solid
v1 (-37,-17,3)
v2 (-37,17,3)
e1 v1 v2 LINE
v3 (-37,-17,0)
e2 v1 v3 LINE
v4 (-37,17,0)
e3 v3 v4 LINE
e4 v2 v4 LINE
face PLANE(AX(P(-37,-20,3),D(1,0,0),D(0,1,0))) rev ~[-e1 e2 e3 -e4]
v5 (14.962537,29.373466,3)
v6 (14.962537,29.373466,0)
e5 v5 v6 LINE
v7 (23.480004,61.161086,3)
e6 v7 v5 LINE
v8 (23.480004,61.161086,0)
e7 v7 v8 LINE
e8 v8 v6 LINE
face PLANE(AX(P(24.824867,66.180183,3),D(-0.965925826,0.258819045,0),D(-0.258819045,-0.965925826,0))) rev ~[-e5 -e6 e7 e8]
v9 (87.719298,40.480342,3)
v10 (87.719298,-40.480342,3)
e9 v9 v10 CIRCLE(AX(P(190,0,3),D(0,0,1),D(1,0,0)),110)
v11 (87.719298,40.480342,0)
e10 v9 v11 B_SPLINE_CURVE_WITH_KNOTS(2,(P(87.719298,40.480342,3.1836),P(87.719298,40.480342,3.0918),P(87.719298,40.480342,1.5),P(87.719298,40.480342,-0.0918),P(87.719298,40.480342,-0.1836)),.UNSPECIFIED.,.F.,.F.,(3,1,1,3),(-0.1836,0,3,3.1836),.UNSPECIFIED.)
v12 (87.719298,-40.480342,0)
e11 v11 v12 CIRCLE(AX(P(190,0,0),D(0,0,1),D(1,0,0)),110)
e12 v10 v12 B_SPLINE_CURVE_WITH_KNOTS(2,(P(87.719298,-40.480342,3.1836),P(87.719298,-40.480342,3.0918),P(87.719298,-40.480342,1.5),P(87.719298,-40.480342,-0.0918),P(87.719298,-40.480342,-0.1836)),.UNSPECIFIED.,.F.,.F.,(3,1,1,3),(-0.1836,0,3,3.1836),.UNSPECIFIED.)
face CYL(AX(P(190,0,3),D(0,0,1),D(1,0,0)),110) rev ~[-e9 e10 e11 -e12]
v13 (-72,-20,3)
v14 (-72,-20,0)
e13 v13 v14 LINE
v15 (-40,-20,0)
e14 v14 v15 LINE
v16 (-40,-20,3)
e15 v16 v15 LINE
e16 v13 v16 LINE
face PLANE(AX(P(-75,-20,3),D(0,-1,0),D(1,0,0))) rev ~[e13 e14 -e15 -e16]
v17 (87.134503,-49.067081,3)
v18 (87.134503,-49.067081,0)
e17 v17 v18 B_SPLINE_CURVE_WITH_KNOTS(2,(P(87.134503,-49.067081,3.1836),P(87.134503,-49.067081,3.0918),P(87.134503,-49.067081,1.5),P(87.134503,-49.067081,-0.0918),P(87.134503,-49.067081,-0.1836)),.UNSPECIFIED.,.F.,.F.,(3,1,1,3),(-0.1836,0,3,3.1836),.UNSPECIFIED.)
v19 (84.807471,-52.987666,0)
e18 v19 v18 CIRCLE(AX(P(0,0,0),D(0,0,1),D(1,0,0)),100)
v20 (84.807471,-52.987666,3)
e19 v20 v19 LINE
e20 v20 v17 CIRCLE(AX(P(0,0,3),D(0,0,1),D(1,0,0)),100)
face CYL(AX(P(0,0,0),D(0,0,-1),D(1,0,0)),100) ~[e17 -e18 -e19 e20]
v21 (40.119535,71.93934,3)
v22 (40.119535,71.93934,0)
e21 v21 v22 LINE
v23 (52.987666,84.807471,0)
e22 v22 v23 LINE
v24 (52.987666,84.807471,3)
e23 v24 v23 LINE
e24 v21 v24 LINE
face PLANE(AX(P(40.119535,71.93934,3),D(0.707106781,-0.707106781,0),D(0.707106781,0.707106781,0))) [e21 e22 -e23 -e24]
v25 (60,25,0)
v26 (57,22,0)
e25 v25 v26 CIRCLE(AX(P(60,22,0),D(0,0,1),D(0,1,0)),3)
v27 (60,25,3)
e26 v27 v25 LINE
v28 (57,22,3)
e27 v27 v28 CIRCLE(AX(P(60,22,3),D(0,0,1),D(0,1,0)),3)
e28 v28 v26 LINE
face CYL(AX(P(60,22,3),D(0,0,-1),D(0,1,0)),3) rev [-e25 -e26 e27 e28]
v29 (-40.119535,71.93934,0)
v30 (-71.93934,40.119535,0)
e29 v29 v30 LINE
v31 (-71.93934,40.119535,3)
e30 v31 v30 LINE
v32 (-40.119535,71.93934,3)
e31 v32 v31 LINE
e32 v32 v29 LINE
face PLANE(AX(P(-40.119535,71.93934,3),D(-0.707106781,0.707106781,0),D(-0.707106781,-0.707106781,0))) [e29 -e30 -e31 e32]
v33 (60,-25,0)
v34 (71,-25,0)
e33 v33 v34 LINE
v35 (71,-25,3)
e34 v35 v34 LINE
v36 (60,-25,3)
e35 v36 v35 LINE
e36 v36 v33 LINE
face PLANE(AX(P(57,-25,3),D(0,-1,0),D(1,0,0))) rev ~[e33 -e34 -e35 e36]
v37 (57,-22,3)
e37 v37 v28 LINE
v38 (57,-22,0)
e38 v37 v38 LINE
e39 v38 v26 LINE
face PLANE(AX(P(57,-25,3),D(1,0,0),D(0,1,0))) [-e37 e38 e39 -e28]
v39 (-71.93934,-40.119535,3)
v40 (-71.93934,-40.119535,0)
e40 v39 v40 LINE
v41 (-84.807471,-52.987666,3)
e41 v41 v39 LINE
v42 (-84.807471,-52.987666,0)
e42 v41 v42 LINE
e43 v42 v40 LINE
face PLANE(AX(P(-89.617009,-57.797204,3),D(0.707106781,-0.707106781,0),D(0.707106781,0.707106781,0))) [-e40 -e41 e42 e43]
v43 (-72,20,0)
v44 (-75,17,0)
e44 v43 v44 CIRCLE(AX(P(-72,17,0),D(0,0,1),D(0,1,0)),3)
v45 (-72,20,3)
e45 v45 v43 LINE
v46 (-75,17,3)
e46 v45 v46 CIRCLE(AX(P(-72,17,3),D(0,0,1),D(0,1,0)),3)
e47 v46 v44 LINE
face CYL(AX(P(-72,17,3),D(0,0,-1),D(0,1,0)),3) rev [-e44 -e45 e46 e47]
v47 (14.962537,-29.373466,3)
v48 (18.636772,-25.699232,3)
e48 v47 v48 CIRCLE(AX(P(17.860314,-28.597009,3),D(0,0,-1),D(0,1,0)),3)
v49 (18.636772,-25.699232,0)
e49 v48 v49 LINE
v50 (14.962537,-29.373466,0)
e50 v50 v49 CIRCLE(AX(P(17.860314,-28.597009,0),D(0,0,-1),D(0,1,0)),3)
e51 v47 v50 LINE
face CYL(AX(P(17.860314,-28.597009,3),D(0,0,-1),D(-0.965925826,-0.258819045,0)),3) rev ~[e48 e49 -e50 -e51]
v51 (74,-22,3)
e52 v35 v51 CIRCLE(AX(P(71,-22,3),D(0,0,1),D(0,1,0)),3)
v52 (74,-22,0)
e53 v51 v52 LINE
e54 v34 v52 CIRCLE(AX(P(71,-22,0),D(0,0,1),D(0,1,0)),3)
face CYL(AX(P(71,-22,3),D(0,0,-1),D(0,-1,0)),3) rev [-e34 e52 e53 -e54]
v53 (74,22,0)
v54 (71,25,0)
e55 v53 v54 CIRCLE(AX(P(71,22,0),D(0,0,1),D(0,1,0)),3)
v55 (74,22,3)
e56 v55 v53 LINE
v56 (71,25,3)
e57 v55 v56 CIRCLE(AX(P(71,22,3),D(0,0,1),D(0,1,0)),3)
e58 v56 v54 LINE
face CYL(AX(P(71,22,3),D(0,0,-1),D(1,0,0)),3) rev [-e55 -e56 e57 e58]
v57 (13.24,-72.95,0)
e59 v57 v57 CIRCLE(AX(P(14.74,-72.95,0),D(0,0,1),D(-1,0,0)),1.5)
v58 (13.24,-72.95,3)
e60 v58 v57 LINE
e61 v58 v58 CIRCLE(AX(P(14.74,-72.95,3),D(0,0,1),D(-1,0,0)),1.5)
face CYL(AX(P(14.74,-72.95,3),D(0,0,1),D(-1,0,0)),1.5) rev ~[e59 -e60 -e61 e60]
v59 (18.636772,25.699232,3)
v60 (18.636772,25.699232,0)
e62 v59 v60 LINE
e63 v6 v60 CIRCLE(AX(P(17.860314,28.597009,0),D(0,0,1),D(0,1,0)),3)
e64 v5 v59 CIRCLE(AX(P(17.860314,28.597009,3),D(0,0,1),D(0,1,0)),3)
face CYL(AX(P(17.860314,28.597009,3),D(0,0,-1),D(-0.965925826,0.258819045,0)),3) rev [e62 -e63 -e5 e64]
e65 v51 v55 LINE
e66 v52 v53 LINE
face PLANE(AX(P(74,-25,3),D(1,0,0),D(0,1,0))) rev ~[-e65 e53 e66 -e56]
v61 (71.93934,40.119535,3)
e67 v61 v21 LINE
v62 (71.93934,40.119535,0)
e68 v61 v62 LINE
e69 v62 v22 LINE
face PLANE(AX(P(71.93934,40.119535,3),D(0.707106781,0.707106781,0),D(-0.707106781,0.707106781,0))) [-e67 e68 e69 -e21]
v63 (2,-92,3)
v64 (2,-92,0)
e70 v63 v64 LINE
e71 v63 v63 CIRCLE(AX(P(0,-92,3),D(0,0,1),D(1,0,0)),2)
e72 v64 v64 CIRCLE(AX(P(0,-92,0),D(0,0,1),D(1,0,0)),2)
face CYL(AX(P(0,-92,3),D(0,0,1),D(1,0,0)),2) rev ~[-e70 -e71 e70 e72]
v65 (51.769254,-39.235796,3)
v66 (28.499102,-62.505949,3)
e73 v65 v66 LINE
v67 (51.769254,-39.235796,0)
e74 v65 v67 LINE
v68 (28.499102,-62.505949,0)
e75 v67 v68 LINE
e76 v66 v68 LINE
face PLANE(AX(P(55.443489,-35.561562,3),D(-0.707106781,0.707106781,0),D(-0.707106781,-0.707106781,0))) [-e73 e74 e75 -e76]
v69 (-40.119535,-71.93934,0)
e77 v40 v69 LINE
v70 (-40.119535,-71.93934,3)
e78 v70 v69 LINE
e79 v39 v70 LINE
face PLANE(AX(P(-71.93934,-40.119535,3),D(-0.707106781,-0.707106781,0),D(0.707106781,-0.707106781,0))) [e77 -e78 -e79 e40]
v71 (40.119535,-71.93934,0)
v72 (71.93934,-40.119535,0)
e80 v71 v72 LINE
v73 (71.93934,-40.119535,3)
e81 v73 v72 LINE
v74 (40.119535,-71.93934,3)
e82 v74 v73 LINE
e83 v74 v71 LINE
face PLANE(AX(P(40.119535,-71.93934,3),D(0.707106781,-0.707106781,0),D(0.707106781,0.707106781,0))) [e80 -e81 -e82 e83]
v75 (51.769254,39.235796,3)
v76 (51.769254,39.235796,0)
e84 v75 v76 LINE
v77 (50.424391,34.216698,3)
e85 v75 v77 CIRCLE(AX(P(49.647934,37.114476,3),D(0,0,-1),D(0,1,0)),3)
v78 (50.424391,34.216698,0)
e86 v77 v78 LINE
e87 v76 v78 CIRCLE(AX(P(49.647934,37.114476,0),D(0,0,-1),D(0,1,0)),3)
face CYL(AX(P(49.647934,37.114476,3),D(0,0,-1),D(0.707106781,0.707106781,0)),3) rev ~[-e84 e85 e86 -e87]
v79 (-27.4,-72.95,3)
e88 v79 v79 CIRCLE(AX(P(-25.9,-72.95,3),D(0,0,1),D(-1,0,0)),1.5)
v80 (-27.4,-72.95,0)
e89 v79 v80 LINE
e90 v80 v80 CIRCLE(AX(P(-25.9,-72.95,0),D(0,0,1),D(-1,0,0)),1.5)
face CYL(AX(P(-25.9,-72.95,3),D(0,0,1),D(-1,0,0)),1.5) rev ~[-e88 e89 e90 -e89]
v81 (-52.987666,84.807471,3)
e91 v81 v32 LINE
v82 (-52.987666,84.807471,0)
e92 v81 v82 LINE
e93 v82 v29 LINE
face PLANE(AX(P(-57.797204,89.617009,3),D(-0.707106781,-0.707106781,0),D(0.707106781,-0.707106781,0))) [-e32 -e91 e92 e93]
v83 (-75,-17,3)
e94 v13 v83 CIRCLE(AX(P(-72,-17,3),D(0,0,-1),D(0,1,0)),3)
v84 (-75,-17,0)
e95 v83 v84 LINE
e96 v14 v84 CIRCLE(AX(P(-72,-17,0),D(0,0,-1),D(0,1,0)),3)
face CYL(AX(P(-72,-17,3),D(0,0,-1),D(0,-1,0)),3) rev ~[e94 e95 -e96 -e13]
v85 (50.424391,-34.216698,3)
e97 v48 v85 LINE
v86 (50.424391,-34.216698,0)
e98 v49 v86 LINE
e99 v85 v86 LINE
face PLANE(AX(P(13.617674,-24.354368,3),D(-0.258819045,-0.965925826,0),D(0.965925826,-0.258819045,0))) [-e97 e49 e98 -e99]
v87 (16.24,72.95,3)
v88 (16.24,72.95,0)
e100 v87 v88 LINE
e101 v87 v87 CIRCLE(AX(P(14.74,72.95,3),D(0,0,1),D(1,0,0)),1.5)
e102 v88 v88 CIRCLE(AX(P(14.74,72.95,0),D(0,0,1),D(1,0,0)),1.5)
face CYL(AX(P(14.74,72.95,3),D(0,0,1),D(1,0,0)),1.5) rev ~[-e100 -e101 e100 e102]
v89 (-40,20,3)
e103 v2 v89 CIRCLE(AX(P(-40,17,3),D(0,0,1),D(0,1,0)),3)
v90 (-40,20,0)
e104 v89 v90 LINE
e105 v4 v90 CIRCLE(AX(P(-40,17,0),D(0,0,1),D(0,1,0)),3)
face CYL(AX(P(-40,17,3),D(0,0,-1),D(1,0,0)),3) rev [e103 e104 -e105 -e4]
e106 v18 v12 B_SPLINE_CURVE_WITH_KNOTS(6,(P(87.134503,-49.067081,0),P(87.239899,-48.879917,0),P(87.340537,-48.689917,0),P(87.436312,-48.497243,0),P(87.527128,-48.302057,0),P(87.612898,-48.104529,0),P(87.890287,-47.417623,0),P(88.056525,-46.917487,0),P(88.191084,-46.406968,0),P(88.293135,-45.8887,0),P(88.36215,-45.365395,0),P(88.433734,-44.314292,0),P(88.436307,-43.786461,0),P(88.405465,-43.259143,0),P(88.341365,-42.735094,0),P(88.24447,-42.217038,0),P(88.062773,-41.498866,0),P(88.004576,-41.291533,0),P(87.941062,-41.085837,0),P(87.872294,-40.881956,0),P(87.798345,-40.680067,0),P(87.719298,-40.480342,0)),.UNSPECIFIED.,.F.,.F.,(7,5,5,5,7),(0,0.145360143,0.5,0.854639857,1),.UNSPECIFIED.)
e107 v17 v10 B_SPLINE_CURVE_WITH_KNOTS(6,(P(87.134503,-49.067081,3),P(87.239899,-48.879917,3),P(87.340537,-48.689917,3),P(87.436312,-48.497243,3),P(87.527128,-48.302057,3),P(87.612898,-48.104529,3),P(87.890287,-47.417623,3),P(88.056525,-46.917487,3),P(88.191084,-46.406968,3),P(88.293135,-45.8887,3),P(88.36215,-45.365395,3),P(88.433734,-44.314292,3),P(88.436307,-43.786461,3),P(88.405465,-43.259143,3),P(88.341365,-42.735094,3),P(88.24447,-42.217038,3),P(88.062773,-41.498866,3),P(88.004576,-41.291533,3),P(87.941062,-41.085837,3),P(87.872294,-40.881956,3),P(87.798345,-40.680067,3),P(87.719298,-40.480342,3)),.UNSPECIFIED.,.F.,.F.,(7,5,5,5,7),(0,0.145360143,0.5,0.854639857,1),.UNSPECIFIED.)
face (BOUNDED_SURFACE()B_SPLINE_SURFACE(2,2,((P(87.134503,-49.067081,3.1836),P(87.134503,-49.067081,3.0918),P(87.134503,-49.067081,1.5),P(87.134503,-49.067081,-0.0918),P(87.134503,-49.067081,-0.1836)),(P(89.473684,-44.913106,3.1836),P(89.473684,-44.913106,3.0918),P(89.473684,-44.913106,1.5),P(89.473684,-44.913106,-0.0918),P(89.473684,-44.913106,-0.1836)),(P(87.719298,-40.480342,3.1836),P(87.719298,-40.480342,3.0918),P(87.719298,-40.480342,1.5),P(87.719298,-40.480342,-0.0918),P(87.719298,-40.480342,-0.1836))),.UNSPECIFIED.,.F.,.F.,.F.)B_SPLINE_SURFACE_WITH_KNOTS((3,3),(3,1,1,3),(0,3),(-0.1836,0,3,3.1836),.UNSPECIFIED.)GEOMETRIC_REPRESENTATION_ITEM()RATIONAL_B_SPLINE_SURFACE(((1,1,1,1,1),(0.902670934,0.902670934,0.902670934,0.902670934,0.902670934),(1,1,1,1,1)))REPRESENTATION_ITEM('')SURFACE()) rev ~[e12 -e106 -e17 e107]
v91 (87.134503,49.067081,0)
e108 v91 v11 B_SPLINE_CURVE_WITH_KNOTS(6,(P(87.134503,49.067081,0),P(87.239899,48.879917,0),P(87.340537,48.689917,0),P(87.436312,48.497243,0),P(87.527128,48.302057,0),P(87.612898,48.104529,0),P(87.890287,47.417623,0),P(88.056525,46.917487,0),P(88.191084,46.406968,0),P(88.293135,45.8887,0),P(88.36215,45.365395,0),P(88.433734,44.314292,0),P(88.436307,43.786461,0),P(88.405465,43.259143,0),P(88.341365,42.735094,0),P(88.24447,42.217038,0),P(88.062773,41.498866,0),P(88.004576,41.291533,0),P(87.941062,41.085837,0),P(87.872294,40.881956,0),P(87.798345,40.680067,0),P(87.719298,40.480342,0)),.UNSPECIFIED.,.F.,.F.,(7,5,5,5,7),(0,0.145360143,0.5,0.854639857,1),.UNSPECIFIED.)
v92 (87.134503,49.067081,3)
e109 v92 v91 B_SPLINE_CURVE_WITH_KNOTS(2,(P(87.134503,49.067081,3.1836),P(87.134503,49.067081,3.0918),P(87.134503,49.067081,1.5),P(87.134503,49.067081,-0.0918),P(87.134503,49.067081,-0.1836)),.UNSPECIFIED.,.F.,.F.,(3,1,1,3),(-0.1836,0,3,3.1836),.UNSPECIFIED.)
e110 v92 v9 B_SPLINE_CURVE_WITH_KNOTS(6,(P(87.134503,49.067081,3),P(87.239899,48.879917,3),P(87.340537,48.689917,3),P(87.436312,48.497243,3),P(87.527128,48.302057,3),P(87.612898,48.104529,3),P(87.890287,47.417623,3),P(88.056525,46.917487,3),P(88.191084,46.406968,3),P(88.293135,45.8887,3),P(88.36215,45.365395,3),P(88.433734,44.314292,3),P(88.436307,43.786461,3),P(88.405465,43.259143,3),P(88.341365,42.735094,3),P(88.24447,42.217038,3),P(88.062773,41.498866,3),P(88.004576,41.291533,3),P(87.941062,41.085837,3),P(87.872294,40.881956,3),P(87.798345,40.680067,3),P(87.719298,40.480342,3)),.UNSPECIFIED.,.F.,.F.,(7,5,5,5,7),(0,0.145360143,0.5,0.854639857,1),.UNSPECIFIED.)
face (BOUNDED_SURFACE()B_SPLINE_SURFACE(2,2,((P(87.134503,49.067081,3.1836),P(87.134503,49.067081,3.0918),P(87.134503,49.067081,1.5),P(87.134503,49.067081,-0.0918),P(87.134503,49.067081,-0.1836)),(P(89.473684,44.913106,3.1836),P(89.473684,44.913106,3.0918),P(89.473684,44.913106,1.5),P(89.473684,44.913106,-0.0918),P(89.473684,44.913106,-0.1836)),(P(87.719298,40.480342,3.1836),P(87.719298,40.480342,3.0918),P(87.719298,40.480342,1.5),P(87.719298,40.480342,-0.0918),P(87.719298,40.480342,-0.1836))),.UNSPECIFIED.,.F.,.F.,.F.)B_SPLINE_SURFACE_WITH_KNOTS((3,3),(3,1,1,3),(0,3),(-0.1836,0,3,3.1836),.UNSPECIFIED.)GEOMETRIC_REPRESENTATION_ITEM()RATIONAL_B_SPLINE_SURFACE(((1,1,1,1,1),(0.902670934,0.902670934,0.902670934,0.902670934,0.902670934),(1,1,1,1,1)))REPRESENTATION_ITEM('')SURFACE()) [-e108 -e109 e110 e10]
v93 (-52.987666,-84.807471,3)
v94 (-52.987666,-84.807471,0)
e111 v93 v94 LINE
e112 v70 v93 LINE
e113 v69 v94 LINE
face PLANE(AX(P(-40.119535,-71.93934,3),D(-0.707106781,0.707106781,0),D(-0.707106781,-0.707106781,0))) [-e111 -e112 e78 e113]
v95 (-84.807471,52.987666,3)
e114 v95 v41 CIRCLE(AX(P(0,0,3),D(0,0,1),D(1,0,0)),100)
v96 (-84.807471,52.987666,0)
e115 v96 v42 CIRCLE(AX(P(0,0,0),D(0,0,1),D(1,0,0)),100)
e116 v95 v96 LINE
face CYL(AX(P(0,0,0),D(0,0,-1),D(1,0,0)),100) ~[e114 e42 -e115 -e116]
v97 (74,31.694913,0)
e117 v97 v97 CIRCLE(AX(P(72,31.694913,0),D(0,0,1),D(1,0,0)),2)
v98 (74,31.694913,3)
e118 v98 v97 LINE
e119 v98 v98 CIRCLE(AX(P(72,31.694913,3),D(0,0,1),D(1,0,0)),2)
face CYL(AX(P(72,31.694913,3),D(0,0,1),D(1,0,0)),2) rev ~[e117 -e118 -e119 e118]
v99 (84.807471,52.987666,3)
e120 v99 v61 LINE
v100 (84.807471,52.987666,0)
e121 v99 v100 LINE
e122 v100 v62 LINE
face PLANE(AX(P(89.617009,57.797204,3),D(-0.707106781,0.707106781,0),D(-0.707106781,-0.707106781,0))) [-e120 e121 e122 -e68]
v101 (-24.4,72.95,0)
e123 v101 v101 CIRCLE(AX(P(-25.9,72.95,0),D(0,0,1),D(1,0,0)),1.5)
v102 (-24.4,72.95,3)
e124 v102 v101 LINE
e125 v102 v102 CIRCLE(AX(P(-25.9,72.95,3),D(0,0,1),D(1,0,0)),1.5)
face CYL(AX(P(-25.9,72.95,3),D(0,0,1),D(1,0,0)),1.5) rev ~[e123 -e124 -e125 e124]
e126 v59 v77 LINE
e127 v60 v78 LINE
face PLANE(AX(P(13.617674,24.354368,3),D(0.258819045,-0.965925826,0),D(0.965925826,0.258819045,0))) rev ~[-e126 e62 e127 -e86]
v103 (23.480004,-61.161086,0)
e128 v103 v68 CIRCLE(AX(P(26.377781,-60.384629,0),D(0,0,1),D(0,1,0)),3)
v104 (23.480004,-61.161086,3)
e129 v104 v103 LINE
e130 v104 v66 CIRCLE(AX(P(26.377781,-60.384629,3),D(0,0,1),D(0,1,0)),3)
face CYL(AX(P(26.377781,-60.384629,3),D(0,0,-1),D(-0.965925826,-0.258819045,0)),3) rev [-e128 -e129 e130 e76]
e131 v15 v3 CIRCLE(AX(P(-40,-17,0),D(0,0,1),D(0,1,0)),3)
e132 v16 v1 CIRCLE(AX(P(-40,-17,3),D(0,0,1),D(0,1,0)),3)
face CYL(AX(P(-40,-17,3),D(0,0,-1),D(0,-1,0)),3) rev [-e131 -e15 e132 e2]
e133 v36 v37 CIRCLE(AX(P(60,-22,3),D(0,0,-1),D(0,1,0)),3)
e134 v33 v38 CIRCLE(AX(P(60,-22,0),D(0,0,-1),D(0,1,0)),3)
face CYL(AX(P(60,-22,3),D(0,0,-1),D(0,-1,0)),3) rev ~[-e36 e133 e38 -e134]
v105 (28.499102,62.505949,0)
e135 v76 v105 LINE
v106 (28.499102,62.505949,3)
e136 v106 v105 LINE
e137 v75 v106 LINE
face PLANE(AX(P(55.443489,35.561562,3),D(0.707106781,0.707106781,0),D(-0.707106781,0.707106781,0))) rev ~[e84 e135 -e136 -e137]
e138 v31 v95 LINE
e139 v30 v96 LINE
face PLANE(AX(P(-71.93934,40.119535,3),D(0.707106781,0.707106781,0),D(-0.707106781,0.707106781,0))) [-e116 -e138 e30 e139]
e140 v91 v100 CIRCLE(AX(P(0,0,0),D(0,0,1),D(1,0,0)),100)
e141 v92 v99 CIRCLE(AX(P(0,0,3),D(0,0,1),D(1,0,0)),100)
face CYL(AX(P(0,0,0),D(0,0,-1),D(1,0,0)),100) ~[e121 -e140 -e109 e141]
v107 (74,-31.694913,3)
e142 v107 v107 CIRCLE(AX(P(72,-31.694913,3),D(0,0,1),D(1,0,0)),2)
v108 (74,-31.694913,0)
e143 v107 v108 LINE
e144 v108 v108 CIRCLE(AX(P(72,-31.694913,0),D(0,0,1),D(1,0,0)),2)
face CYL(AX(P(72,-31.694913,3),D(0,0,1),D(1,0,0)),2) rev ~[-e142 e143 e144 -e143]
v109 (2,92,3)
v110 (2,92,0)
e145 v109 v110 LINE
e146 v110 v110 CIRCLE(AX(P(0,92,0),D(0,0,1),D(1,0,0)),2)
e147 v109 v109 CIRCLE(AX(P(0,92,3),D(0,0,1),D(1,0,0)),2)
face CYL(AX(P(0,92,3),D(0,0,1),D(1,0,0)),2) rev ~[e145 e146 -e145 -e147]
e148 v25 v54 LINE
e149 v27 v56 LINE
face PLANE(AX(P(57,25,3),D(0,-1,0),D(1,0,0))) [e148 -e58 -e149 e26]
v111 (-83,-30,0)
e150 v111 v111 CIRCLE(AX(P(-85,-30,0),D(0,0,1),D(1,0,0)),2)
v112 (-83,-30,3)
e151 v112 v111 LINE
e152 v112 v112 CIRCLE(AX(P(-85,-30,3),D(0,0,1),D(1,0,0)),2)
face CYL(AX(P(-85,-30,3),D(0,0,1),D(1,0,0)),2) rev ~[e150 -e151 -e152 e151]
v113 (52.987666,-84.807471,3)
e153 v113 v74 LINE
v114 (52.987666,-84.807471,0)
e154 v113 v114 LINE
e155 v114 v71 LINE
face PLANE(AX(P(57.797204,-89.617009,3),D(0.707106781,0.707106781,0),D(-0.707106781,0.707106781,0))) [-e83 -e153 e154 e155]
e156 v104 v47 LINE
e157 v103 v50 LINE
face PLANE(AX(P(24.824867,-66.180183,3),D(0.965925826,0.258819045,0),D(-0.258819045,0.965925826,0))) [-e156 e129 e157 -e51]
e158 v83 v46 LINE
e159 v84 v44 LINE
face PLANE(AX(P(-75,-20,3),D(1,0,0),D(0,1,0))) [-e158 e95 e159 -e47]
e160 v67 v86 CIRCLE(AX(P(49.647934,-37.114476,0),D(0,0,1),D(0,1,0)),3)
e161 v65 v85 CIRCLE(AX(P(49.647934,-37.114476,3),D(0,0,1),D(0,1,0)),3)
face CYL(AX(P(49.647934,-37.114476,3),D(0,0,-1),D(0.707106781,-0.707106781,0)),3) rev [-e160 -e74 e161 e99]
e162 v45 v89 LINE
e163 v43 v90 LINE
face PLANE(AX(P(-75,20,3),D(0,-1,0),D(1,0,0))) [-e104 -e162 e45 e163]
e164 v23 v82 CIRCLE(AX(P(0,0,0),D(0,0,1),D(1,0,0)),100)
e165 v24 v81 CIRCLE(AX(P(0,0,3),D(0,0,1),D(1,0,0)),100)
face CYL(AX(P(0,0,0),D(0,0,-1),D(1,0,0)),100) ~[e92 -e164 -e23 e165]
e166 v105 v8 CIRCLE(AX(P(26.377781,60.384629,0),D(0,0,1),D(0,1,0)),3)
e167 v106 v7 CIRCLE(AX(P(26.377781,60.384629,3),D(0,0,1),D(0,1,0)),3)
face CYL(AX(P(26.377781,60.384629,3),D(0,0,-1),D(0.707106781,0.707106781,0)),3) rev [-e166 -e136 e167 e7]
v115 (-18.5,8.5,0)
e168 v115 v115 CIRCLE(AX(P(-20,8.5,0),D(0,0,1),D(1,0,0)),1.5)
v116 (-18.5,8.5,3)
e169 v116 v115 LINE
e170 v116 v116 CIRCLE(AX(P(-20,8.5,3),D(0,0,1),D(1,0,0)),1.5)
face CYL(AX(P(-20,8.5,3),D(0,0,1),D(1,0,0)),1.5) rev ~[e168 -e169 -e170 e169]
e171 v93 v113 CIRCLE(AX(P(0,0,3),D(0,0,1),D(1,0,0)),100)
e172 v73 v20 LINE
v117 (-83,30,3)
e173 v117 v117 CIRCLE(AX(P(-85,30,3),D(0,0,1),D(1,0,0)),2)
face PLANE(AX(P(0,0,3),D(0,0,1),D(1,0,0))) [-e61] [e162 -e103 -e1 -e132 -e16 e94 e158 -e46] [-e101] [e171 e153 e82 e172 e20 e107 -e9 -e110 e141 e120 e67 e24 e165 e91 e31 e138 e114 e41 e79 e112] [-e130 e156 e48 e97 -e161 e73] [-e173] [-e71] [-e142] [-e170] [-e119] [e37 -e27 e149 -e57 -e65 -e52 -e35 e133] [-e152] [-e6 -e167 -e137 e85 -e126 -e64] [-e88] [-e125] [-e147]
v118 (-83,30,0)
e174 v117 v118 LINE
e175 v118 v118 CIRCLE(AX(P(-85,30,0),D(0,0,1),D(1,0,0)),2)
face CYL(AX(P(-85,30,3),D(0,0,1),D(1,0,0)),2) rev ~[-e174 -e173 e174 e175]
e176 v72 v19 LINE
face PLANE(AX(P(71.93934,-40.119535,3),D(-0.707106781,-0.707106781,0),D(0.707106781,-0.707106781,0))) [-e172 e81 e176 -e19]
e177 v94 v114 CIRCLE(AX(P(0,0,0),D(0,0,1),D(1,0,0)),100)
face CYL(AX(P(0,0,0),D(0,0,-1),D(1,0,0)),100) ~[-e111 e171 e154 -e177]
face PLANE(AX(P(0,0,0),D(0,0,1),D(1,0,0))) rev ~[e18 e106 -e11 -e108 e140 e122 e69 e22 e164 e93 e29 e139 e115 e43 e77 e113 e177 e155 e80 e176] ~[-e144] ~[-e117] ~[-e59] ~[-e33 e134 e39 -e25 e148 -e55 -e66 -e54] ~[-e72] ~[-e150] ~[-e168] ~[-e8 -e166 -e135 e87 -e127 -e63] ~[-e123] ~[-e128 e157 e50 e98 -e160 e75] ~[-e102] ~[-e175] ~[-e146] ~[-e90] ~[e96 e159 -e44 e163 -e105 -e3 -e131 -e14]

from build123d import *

# Parameters (mm, degrees)
CROQUIS1_R              = 100
SALIENTE_EXTRUIR1_DEPTH = 3
CROQUIS3_R              = 110
CORTAR_EXTRUIR1_DEPTH   = 3
REDONDEO1_R             = 10
CORTAR_EXTRUIR3_DEPTH   = 10
CROQUIS10_R             = 1.5
CORTAR_EXTRUIR4_DEPTH   = 142.453172607
CROQUIS11_R             = 2
CROQUIS11_W             = 17
CROQUIS11_H             = 50
CROQUIS11_W_2           = 38
CROQUIS11_H_2           = 40
CORTAR_EXTRUIR5_DEPTH   = 10
REDONDEO2_R             = 3


with BuildPart() as part:
    # Croquis1 → Saliente-Extruir1 (new body)
    with BuildSketch(Plane.XY):
        Circle(CROQUIS1_R)
    extrude(amount=SALIENTE_EXTRUIR1_DEPTH)

    # Croquis3 → Cortar-Extruir1 (cut)
    with BuildSketch(Plane.XY.offset(3)):
        with Locations((190, 0)):
            Circle(CROQUIS3_R)
    extrude(amount=-CORTAR_EXTRUIR1_DEPTH, mode=Mode.SUBTRACT)

    # Redondeo1
    redondeo1_edges = [part.edges().sort_by_distance(p)[0] for p in [
        (89.473684211, -44.659375654, 1.5),
        (89.473684211, 44.659375654, 1.5),
    ]]
    fillet(redondeo1_edges, radius=REDONDEO1_R)

    # Croquis7 → Cortar-Extruir3 (cut)
    with BuildSketch(Plane.XY.offset(3)):
        Polygon((-71.939339828, -40.119534675), (-40.119534675, -71.939339828), (-57.797204204, -89.617009358), (-89.617009358, -57.797204204), align=None)
        Polygon((-40.119534675, 71.939339828), (-71.939339828, 40.119534675), (-89.617009358, 57.797204204), (-57.797204204, 89.617009358), align=None)
        Polygon((71.939339828, 40.119534675), (40.119534675, 71.939339828), (57.797204204, 89.617009358), (89.617009358, 57.797204204), align=None)
        Polygon((40.119534675, -71.939339828), (71.939339828, -40.119534675), (89.617009358, -57.797204204), (57.797204204, -89.617009358), align=None)
    extrude(amount=-CORTAR_EXTRUIR3_DEPTH, mode=Mode.SUBTRACT)

    # Croquis10 → Cortar-Extruir4 (cut, through all)
    with BuildSketch(Plane.XY.offset(3)):
        with Locations((-20, 8.5)):
            Circle(CROQUIS10_R)
        with Locations((14.74, 72.95)):
            Circle(CROQUIS10_R)
        with Locations((-25.9, 72.95)):
            Circle(CROQUIS10_R)
        with Locations(Location((14.74, -72.95, 0), (0, 0, 180))):
            Circle(CROQUIS10_R)
        with Locations(Location((-25.9, -72.95, 0), (0, 0, 180))):
            Circle(CROQUIS10_R)
    extrude(amount=-CORTAR_EXTRUIR4_DEPTH, mode=Mode.SUBTRACT)

    # Croquis11 → Cortar-Extruir5 (cut)
    with BuildSketch(Plane.XY.offset(3)):
        with Locations((0, 92)):
            Circle(CROQUIS11_R)
        with Locations((0, -92)):
            Circle(CROQUIS11_R)
        with Locations((72, 31.694913472)):
            Circle(CROQUIS11_R)
        with Locations((72, -31.694913472)):
            Circle(CROQUIS11_R)
        with Locations((-85, -30)):
            Circle(CROQUIS11_R)
        with Locations((-85, 30)):
            Circle(CROQUIS11_R)
        with Locations((65.5, 0)):
            Rectangle(CROQUIS11_W, CROQUIS11_H)
        Polygon((55.443488939, 35.561561695), (24.824867154, 66.18018348), (13.617673752, 24.354368293), align=None)
        Polygon((13.617673752, -24.354368293), (55.443488939, -35.561561695), (24.824867154, -66.18018348), align=None)
        with Locations((-56, 0)):
            Rectangle(CROQUIS11_W_2, CROQUIS11_H_2)
    extrude(amount=-CORTAR_EXTRUIR5_DEPTH, mode=Mode.SUBTRACT)

    # Redondeo2
    redondeo2_edges = [part.edges().sort_by_distance(p)[0] for p in [
        (74, 25, 1.5),
        (74, -25, 1.5),
        (57, -25, 1.5),
        (57, 25, 1.5),
        (55.443488939, 35.561561695, 1.5),
        (13.617673752, 24.354368293, 1.5),
        (24.824867154, 66.18018348, 1.5),
        (24.824867154, -66.18018348, 1.5),
        (13.617673752, -24.354368293, 1.5),
        (55.443488939, -35.561561695, 1.5),
        (-37, 20, 1.5),
        (-37, -20, 1.5),
        (-75, -20, 1.5),
        (-75, 20, 1.5),
    ]]
    fillet(redondeo2_edges, radius=REDONDEO2_R)


solid = part.part
